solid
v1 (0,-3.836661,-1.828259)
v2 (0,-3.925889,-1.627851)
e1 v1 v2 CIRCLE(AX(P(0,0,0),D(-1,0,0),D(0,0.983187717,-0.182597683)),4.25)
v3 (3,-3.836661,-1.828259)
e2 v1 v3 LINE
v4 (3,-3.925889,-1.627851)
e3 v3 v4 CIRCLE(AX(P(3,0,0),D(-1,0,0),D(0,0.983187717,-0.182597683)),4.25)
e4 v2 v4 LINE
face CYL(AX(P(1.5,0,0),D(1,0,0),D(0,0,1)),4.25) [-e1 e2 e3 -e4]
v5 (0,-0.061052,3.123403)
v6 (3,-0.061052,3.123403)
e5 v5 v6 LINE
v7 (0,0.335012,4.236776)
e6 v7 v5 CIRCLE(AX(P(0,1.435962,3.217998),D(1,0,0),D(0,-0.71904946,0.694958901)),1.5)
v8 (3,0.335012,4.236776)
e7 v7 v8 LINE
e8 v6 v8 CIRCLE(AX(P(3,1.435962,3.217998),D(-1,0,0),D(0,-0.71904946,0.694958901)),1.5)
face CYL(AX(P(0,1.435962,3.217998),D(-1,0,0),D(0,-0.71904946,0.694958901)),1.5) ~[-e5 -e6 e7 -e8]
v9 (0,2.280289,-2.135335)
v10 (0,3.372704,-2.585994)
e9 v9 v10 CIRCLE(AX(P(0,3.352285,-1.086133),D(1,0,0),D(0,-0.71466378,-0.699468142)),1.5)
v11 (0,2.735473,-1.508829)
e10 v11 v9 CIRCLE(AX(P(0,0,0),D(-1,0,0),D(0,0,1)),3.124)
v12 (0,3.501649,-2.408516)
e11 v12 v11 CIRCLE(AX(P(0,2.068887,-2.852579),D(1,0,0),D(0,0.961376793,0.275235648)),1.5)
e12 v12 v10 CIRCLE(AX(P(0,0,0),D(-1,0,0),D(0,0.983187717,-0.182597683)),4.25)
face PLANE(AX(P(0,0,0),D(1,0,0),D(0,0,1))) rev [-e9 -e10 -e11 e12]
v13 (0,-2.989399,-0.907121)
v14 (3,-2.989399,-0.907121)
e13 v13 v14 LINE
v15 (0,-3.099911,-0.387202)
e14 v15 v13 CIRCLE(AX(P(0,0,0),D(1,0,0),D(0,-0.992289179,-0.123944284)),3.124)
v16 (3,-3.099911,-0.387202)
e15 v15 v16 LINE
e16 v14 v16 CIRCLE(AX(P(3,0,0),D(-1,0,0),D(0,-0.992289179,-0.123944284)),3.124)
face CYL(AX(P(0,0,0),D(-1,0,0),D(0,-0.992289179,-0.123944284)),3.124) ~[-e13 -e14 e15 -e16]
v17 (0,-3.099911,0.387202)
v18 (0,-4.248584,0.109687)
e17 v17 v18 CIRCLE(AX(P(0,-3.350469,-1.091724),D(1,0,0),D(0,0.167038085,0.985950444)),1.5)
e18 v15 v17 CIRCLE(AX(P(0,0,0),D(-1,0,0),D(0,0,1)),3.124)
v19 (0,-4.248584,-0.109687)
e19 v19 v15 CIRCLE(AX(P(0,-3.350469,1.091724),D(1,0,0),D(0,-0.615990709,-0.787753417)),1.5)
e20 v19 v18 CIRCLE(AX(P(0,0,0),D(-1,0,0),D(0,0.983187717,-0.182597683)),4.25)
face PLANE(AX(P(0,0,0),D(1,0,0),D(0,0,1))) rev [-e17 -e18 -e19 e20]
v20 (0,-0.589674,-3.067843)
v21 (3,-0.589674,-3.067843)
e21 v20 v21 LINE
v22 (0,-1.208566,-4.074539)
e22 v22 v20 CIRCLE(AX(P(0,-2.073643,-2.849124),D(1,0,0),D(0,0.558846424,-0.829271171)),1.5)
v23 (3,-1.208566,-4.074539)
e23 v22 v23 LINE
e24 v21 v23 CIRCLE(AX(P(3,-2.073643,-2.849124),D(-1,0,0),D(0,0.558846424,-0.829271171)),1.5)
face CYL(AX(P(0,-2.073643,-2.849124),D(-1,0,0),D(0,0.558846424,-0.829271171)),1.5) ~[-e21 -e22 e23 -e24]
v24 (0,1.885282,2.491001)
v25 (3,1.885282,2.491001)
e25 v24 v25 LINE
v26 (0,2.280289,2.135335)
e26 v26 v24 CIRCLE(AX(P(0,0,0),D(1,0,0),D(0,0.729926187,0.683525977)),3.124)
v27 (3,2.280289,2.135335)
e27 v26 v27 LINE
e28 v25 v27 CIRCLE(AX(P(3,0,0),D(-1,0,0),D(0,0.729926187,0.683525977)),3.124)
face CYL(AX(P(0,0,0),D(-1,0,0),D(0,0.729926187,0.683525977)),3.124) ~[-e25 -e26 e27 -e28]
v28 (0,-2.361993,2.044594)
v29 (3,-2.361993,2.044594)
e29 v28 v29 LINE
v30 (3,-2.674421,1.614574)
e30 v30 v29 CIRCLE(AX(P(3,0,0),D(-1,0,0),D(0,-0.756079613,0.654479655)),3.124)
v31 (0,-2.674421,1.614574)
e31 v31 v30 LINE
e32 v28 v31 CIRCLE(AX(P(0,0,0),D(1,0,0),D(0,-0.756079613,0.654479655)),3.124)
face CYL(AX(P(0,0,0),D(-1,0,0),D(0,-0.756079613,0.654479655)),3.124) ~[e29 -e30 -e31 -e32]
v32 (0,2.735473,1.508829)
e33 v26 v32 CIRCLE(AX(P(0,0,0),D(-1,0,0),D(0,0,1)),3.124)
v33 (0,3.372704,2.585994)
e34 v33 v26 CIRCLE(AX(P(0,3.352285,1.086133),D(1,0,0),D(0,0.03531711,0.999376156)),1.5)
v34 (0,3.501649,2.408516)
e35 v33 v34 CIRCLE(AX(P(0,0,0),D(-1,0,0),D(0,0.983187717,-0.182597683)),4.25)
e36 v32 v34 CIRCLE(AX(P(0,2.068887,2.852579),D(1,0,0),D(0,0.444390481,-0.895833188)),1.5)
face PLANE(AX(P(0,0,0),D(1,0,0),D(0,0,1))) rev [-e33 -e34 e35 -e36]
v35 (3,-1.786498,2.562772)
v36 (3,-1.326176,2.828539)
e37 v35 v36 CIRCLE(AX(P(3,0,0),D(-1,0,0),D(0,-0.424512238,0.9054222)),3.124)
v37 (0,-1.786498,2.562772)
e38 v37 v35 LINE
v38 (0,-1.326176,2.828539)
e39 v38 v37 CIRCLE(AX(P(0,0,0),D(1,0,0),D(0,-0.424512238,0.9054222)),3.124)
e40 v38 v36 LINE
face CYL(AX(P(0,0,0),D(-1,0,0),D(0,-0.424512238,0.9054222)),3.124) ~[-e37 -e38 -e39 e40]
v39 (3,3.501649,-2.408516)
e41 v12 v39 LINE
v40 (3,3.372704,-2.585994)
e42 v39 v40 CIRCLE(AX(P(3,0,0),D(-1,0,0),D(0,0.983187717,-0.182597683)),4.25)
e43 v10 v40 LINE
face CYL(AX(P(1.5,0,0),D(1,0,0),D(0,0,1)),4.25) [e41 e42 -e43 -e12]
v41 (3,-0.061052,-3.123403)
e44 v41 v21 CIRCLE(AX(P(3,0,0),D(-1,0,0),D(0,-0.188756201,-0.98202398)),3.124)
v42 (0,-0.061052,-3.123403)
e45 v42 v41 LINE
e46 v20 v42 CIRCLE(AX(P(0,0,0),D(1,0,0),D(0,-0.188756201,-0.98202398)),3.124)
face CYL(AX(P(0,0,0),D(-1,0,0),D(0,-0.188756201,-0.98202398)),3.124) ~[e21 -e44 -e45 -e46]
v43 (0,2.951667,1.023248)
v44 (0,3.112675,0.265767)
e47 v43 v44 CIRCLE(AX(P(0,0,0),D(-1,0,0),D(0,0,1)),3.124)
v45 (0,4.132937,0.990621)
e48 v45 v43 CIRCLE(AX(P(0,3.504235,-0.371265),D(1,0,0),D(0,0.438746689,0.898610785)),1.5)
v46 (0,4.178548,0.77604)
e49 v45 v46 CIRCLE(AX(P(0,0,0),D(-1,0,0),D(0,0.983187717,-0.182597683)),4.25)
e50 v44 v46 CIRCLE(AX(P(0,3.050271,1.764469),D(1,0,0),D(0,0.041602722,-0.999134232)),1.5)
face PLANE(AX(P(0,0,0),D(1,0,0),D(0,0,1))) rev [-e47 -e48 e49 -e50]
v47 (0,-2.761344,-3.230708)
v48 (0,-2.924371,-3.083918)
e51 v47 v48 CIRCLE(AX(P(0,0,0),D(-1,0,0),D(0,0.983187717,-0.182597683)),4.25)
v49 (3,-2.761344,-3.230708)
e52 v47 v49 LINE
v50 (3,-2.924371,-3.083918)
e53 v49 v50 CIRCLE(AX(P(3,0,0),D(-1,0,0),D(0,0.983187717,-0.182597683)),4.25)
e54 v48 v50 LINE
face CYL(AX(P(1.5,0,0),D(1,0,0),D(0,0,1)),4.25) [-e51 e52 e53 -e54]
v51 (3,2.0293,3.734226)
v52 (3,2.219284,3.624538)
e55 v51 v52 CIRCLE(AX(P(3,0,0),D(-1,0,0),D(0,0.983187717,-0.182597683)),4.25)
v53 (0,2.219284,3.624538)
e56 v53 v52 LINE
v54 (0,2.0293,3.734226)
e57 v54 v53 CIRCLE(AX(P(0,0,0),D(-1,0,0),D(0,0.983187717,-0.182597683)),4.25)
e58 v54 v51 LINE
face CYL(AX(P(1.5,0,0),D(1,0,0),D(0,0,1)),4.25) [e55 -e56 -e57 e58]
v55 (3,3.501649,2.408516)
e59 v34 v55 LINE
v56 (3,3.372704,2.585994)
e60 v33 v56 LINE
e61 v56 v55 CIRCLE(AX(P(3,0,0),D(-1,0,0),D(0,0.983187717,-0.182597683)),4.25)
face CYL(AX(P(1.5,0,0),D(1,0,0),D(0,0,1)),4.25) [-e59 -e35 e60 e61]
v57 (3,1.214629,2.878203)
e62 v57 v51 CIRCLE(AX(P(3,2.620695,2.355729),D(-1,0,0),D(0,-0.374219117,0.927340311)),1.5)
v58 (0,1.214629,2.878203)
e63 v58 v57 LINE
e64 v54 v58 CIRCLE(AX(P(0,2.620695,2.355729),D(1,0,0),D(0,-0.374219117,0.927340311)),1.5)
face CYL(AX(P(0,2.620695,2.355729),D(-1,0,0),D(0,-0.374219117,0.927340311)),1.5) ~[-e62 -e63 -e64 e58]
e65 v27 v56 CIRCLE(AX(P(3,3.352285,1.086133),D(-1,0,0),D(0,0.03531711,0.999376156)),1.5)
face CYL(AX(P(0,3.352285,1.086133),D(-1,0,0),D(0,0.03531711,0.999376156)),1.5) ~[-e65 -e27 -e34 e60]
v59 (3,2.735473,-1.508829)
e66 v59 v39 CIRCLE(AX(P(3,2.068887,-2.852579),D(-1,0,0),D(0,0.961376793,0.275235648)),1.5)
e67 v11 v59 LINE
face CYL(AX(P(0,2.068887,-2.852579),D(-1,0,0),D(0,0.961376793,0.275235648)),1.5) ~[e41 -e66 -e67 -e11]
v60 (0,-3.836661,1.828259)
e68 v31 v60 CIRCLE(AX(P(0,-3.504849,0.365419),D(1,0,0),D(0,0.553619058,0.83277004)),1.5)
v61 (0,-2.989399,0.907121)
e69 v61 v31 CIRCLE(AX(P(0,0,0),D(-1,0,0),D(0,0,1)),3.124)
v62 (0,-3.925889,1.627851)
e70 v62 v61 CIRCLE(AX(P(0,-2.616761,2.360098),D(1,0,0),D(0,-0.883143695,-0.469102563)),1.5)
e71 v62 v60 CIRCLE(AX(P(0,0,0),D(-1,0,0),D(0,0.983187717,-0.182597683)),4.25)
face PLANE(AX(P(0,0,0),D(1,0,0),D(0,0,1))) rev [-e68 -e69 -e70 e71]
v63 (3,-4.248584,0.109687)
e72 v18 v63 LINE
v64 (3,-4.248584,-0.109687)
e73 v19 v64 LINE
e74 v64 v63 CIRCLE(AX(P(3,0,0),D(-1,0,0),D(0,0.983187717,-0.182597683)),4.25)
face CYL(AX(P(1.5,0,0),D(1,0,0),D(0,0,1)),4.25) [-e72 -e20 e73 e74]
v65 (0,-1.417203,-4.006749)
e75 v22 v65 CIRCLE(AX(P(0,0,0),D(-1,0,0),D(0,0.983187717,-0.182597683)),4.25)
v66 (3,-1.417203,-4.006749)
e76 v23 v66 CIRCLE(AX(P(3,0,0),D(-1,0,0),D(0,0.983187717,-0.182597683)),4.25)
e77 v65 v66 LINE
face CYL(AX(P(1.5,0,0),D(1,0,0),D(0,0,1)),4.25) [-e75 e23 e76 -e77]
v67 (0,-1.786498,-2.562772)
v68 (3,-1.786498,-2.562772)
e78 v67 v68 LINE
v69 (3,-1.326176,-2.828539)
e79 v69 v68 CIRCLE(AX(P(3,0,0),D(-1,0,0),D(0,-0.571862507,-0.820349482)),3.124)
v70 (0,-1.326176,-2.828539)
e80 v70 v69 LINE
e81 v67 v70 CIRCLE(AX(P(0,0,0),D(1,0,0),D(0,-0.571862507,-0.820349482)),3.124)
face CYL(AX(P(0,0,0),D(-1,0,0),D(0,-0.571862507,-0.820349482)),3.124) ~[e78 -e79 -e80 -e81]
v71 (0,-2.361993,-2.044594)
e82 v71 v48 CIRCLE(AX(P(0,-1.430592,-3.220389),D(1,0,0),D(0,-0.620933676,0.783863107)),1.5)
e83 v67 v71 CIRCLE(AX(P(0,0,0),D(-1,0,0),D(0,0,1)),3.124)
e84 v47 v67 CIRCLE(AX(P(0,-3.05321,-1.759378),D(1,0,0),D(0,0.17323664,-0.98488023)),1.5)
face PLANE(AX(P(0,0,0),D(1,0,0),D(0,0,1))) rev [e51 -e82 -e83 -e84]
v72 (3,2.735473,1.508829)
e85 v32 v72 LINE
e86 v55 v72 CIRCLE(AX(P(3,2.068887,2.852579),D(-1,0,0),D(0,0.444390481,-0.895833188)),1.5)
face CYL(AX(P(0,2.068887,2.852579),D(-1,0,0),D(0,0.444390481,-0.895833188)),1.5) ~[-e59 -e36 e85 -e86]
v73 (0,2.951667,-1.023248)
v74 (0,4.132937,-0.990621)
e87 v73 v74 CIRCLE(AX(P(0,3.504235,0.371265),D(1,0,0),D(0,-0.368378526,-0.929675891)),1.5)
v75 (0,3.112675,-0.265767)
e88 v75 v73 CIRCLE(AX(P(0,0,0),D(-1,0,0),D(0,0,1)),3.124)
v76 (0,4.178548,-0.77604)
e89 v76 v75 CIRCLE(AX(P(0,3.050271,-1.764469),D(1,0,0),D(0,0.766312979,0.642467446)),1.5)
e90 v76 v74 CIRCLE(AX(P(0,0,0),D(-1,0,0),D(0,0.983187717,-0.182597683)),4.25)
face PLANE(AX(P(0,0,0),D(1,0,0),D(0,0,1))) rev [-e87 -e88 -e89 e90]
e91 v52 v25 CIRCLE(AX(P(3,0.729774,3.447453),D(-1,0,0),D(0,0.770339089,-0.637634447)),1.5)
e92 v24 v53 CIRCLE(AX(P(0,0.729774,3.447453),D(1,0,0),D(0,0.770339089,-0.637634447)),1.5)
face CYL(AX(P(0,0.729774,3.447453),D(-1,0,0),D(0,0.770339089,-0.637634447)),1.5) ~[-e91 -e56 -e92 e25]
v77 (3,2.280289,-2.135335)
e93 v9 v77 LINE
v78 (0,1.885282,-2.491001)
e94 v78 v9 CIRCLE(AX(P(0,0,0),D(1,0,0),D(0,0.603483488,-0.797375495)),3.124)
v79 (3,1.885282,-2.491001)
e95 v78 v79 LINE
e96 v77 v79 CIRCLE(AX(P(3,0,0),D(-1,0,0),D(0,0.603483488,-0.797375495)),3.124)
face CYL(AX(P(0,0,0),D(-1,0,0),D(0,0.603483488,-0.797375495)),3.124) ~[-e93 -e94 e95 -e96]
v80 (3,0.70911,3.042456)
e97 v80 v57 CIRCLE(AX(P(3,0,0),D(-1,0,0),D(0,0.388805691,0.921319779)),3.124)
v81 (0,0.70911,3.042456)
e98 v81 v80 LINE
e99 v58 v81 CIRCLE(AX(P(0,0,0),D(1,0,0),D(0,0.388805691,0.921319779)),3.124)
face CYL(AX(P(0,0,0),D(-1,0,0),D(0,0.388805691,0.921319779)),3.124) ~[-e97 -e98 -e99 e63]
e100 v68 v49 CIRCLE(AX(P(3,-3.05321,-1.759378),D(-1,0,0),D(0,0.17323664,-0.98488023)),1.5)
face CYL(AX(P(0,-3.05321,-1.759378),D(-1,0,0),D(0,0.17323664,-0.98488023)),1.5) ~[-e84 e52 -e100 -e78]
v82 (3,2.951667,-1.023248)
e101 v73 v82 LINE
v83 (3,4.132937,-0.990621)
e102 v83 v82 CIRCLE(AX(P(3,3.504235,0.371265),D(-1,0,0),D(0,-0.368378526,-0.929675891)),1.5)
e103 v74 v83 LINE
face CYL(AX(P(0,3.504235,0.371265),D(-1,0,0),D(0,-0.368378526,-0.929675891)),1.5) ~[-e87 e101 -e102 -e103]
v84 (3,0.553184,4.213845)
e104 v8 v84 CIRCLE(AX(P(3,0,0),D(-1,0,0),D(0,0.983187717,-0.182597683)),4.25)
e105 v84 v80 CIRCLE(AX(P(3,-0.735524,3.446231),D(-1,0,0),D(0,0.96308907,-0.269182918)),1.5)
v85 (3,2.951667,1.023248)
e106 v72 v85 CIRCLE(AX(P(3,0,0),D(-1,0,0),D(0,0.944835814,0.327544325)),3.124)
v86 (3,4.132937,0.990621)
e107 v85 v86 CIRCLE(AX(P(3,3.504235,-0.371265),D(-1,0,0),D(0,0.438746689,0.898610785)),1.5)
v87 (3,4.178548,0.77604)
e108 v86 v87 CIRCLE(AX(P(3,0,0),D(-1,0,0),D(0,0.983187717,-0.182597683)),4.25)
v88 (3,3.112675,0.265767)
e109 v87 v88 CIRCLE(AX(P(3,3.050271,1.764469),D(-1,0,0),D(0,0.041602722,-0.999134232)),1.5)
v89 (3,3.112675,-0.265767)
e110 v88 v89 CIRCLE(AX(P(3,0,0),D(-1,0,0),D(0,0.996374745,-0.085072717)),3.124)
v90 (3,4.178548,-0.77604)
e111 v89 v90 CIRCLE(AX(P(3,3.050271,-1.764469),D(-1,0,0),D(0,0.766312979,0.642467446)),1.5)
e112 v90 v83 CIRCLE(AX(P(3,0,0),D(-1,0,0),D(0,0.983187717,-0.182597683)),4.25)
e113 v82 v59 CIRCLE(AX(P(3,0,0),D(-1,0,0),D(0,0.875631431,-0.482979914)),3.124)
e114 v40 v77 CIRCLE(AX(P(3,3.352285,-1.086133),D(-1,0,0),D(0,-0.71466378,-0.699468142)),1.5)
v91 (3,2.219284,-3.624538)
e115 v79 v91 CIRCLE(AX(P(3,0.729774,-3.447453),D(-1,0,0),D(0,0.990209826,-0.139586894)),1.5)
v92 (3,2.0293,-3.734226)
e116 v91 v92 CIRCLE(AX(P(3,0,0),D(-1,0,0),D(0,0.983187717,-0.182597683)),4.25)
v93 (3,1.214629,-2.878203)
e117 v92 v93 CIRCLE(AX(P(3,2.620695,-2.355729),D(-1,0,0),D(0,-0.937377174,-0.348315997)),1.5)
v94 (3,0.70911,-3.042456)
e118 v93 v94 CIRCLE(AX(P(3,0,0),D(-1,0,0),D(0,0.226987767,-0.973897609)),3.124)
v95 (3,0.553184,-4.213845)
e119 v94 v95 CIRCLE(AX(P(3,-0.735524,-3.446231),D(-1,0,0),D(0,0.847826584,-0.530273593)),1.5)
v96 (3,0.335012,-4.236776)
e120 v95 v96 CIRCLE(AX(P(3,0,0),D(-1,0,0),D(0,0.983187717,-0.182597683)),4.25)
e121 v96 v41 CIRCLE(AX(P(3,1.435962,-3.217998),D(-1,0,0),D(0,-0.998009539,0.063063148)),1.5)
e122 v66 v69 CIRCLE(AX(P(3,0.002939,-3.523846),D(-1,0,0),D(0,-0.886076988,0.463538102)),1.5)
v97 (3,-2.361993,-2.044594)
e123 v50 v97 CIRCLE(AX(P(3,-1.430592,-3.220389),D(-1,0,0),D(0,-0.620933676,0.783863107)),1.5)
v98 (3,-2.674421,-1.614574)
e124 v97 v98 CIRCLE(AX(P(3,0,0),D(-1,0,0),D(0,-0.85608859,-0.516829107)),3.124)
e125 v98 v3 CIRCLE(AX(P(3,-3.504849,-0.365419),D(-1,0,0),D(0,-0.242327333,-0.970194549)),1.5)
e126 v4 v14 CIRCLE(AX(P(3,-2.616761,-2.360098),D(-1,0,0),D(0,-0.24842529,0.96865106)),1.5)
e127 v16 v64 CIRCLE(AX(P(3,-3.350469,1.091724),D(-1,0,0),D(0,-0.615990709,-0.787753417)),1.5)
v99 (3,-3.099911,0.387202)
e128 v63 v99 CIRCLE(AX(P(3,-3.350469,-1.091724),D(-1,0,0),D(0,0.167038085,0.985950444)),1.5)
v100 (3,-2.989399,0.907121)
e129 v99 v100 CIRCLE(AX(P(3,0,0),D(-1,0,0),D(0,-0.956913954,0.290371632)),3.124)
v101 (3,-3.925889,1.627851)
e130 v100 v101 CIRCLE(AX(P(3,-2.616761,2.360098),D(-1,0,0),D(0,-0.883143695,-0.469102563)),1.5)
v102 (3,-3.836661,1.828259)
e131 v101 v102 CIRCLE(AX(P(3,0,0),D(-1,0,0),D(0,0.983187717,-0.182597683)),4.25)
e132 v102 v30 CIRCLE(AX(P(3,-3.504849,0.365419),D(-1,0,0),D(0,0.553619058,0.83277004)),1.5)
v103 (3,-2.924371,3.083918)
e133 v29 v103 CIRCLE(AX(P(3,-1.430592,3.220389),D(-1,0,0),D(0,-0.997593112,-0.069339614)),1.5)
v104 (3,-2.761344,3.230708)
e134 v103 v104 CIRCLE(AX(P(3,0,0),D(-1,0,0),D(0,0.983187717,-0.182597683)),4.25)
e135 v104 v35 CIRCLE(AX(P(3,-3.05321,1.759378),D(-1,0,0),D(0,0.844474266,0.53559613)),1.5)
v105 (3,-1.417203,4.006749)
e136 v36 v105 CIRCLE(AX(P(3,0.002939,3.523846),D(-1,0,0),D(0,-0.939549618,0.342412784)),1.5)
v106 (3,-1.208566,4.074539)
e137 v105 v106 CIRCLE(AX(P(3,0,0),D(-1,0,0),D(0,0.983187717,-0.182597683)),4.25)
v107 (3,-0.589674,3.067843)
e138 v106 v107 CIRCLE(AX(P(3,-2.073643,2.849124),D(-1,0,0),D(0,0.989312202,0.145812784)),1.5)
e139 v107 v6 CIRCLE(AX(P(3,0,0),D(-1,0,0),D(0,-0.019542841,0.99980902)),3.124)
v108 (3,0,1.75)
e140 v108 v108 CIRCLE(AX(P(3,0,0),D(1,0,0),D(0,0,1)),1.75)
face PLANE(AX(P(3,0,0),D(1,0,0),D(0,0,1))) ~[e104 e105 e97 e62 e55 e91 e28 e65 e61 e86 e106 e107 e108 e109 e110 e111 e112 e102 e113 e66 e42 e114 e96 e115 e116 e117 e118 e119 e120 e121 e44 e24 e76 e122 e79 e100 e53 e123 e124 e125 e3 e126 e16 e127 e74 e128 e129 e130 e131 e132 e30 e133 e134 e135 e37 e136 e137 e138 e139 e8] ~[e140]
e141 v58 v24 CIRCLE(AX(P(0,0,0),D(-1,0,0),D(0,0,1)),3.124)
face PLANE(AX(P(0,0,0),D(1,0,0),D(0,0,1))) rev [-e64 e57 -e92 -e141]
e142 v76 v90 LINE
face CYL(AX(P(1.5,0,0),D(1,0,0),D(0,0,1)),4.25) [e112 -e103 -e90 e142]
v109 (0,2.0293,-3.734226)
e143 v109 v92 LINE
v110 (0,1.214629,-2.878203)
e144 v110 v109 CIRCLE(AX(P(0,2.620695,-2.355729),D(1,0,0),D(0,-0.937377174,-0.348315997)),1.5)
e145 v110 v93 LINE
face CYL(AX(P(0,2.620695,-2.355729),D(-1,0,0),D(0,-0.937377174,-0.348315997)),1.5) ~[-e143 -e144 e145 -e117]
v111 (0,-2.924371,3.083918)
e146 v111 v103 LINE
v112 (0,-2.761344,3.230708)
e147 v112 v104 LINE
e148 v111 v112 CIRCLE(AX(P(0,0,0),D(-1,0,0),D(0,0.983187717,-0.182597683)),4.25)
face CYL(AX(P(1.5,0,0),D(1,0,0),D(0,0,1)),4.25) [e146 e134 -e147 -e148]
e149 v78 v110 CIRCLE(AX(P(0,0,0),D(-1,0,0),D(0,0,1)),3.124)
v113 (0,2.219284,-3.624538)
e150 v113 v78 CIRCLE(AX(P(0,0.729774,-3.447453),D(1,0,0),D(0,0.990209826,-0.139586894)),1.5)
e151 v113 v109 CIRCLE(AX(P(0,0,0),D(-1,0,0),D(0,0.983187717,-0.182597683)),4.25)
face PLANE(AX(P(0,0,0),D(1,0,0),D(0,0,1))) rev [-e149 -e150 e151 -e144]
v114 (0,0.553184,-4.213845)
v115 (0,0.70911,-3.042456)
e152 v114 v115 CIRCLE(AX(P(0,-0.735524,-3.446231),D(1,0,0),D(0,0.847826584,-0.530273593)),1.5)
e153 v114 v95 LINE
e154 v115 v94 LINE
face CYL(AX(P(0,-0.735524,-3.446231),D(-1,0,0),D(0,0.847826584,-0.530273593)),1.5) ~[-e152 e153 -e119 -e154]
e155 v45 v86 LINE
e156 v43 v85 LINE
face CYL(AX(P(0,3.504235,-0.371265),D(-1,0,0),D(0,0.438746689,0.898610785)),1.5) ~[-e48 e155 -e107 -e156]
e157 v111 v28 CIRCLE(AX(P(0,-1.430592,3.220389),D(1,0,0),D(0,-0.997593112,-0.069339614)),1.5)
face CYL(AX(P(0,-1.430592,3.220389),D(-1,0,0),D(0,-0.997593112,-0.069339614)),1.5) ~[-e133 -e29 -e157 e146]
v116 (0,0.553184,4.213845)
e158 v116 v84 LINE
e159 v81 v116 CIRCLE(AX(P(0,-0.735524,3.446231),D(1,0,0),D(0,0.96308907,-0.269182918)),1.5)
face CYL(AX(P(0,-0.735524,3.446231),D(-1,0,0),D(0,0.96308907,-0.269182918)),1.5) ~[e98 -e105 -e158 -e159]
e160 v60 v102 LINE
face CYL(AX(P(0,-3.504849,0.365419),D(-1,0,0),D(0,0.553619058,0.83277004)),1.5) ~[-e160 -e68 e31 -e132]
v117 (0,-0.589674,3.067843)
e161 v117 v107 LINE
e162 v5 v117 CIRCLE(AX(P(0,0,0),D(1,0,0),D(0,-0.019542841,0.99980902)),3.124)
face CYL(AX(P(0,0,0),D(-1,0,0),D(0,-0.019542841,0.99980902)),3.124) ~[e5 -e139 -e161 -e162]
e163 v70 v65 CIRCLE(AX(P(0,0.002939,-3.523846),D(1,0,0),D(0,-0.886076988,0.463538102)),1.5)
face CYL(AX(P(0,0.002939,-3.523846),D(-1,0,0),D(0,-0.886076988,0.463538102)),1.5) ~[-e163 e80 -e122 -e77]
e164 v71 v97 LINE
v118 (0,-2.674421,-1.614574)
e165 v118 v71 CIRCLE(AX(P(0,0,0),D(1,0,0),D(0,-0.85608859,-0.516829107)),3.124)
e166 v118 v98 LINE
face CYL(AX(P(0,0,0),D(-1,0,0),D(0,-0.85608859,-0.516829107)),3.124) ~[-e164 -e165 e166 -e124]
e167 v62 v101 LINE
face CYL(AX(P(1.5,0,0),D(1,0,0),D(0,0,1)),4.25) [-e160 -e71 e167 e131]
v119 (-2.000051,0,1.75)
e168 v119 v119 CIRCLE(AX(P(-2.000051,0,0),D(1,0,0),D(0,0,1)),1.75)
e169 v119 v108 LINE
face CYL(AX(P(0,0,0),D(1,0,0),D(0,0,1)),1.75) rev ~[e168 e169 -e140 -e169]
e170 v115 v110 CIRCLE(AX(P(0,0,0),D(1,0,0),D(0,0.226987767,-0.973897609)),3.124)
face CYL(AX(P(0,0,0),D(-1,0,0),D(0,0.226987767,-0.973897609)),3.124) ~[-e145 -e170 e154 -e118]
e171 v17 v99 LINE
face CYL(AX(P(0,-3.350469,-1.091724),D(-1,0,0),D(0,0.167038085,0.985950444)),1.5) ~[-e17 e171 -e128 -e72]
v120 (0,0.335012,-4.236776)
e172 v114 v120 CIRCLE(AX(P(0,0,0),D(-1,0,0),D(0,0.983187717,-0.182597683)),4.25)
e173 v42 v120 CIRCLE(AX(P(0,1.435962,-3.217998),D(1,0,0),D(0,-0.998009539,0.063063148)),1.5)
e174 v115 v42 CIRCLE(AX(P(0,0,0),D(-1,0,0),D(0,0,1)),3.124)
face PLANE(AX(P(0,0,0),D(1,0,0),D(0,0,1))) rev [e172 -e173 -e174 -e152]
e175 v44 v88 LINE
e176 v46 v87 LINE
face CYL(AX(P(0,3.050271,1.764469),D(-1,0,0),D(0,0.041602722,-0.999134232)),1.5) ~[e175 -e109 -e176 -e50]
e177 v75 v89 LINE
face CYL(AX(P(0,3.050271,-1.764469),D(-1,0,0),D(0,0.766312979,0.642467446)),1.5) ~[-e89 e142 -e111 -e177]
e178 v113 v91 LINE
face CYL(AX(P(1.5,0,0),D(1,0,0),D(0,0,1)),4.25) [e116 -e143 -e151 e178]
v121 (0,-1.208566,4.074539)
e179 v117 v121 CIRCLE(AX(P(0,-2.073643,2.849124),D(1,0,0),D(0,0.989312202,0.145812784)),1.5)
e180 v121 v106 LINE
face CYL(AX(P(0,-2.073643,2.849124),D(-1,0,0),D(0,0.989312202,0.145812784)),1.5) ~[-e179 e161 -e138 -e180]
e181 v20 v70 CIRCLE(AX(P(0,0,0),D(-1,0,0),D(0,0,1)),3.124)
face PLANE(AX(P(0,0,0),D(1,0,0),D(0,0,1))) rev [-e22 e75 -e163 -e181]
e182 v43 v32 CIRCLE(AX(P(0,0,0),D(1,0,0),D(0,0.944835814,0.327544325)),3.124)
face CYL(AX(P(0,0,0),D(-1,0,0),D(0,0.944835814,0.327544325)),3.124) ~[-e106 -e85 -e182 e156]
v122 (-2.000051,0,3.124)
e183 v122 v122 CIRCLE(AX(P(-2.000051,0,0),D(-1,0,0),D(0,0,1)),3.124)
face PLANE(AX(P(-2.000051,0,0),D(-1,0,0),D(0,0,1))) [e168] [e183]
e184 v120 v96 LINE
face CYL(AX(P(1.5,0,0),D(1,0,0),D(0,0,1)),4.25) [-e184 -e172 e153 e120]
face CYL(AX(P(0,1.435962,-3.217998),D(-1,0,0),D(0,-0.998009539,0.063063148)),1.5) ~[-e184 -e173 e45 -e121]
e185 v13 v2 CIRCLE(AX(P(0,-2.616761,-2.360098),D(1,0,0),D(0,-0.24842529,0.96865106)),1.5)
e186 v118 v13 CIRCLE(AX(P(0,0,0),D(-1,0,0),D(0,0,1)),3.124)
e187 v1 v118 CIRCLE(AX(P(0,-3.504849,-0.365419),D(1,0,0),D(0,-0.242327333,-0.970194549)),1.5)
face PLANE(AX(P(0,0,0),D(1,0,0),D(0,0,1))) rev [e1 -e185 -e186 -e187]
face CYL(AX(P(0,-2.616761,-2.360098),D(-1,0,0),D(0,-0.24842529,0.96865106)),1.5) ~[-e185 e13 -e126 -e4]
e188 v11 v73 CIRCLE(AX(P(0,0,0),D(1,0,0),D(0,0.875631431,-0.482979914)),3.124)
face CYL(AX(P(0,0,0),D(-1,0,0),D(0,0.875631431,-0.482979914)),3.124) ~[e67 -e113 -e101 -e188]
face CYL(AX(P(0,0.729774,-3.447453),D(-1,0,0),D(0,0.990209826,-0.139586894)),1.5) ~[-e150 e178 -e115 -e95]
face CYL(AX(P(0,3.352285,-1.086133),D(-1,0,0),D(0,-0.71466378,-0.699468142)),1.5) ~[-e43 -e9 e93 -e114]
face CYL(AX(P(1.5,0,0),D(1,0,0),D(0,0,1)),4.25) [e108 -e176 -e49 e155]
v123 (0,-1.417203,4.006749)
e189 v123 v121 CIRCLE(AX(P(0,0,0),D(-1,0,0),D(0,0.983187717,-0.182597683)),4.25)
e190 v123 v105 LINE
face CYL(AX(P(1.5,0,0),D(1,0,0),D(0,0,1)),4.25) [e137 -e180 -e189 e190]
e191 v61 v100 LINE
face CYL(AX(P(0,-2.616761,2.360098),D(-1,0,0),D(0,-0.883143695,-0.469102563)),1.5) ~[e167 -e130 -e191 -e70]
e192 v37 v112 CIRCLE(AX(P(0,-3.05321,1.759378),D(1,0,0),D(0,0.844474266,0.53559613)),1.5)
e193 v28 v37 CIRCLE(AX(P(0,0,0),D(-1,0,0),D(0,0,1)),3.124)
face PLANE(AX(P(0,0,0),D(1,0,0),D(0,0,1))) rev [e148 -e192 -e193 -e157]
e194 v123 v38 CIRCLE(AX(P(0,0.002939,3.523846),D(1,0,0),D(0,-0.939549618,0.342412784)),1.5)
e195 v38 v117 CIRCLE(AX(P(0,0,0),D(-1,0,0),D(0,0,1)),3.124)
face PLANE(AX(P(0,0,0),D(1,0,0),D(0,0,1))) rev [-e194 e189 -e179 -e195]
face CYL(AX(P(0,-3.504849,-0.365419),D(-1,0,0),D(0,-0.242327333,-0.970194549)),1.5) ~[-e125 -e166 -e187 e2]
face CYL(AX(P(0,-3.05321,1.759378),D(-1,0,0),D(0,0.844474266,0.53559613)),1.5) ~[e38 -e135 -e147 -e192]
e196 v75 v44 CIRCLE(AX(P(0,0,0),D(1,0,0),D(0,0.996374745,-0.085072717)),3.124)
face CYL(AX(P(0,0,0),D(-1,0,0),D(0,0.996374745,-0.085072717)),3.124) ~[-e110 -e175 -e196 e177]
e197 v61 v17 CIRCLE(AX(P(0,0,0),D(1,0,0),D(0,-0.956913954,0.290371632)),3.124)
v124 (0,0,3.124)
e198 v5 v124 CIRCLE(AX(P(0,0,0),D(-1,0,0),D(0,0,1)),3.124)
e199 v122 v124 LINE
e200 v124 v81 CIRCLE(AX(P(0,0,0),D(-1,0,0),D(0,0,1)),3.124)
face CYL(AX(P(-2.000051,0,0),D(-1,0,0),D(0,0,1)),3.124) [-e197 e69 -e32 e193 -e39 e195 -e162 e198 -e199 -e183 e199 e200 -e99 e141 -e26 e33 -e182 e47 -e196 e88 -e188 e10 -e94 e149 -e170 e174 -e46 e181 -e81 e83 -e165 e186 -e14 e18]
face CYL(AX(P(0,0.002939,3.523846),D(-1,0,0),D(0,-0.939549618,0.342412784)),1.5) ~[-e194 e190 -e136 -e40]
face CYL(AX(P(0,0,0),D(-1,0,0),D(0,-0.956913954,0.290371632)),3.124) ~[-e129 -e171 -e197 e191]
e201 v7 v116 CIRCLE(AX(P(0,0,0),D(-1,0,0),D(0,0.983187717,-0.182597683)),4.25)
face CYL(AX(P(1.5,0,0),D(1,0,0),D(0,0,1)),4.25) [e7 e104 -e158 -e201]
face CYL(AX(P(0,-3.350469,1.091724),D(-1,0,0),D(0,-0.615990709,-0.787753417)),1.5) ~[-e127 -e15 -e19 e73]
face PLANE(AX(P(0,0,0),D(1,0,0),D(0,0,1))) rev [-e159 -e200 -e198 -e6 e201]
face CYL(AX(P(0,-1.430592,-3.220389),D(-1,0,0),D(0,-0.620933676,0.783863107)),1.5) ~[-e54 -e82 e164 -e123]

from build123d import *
from build123d.topology import SkipClean

# Parameters (mm, degrees)
BASPROSKE_W      = 3
BASPROSKE_H      = 4.25
TOOTHCUT_DEPTH   = 7.717514421
TEETHCUTS_COUNT  = 15
TEETHCUTS_ANGLE  = 336
HUBNEARONE_START = 2.0000508
HUBNEAONESKE_R   = 3.124
HUBNEARONE_DEPTH = 2.0000508
BORSKE_R         = 1.75
BORE_DEPTH       = 5.0000508


with BuildPart() as part:
    # BasProSke → Base-Revolve (revolve)
    with BuildSketch(Plane(origin=(0, 0, 0), x_dir=(1, 0, 0), z_dir=(0, 1, 0)), mode=Mode.PRIVATE) as base_revolve_sk:
        with Locations((1.5, 2.125)):
            Rectangle(BASPROSKE_W, BASPROSKE_H)
    revolve(base_revolve_sk.sketch.rotate(Axis((-10, 0, 0), (1, 0, 0)), 180), axis=Axis((-10, 0, 0), (1, 0, 0)))

    # TooCutSke → ToothCut (cut, through all)
    with BuildSketch(Plane(origin=(0, 0, 0), x_dir=(0, 0, -1), z_dir=(1, 0, 0))):
        with BuildLine():
            ThreePointArc((0.265767165, 3.112674704), (0, 3.124), (-0.265767165, 3.112674704))
            ThreePointArc((-0.265767165, 3.112674704), (-0.418628877, 3.712626775), (-0.800767345, 4.19974009))
            ThreePointArc((-0.800767345, 4.19974009), (0, 4.2754), (0.800767345, 4.19974009))
            ThreePointArc((0.800767345, 4.19974009), (0.418628877, 3.712626775), (0.265767165, 3.112674704))
        make_face()
    toothcut = extrude(amount=TOOTHCUT_DEPTH, mode=Mode.SUBTRACT)

    # TeethCuts: ToothCut ×15 about axis
    teethcuts_axis = Axis((-10, 0, 0), (1, 0, 0))
    for i in range(1, TEETHCUTS_COUNT):
        add(toothcut.rotate(teethcuts_axis, i * TEETHCUTS_ANGLE / (TEETHCUTS_COUNT - 1)), mode=Mode.SUBTRACT)

    # HubNeaOneSke → HubNearOne (add)
    with SkipClean():  # the faces are left unmerged after this step: merging them gives an invalid solid
        with BuildSketch(Plane.ZY.offset(HUBNEARONE_START)):
            Circle(HUBNEAONESKE_R)
        extrude(amount=-HUBNEARONE_DEPTH)

    # BorSke → Bore (cut, symmetric)
    with SkipClean():  # the faces are left unmerged after this step: merging them gives an invalid solid
        with BuildSketch(Plane(origin=(0, 0, 0), x_dir=(0, 0, -1), z_dir=(1, 0, 0))):
            with Locations(Location((0, 0, 0), (0, 0, 180))):
                Circle(BORSKE_R)
        extrude(amount=BORE_DEPTH, both=True, mode=Mode.SUBTRACT)


solid = part.part
